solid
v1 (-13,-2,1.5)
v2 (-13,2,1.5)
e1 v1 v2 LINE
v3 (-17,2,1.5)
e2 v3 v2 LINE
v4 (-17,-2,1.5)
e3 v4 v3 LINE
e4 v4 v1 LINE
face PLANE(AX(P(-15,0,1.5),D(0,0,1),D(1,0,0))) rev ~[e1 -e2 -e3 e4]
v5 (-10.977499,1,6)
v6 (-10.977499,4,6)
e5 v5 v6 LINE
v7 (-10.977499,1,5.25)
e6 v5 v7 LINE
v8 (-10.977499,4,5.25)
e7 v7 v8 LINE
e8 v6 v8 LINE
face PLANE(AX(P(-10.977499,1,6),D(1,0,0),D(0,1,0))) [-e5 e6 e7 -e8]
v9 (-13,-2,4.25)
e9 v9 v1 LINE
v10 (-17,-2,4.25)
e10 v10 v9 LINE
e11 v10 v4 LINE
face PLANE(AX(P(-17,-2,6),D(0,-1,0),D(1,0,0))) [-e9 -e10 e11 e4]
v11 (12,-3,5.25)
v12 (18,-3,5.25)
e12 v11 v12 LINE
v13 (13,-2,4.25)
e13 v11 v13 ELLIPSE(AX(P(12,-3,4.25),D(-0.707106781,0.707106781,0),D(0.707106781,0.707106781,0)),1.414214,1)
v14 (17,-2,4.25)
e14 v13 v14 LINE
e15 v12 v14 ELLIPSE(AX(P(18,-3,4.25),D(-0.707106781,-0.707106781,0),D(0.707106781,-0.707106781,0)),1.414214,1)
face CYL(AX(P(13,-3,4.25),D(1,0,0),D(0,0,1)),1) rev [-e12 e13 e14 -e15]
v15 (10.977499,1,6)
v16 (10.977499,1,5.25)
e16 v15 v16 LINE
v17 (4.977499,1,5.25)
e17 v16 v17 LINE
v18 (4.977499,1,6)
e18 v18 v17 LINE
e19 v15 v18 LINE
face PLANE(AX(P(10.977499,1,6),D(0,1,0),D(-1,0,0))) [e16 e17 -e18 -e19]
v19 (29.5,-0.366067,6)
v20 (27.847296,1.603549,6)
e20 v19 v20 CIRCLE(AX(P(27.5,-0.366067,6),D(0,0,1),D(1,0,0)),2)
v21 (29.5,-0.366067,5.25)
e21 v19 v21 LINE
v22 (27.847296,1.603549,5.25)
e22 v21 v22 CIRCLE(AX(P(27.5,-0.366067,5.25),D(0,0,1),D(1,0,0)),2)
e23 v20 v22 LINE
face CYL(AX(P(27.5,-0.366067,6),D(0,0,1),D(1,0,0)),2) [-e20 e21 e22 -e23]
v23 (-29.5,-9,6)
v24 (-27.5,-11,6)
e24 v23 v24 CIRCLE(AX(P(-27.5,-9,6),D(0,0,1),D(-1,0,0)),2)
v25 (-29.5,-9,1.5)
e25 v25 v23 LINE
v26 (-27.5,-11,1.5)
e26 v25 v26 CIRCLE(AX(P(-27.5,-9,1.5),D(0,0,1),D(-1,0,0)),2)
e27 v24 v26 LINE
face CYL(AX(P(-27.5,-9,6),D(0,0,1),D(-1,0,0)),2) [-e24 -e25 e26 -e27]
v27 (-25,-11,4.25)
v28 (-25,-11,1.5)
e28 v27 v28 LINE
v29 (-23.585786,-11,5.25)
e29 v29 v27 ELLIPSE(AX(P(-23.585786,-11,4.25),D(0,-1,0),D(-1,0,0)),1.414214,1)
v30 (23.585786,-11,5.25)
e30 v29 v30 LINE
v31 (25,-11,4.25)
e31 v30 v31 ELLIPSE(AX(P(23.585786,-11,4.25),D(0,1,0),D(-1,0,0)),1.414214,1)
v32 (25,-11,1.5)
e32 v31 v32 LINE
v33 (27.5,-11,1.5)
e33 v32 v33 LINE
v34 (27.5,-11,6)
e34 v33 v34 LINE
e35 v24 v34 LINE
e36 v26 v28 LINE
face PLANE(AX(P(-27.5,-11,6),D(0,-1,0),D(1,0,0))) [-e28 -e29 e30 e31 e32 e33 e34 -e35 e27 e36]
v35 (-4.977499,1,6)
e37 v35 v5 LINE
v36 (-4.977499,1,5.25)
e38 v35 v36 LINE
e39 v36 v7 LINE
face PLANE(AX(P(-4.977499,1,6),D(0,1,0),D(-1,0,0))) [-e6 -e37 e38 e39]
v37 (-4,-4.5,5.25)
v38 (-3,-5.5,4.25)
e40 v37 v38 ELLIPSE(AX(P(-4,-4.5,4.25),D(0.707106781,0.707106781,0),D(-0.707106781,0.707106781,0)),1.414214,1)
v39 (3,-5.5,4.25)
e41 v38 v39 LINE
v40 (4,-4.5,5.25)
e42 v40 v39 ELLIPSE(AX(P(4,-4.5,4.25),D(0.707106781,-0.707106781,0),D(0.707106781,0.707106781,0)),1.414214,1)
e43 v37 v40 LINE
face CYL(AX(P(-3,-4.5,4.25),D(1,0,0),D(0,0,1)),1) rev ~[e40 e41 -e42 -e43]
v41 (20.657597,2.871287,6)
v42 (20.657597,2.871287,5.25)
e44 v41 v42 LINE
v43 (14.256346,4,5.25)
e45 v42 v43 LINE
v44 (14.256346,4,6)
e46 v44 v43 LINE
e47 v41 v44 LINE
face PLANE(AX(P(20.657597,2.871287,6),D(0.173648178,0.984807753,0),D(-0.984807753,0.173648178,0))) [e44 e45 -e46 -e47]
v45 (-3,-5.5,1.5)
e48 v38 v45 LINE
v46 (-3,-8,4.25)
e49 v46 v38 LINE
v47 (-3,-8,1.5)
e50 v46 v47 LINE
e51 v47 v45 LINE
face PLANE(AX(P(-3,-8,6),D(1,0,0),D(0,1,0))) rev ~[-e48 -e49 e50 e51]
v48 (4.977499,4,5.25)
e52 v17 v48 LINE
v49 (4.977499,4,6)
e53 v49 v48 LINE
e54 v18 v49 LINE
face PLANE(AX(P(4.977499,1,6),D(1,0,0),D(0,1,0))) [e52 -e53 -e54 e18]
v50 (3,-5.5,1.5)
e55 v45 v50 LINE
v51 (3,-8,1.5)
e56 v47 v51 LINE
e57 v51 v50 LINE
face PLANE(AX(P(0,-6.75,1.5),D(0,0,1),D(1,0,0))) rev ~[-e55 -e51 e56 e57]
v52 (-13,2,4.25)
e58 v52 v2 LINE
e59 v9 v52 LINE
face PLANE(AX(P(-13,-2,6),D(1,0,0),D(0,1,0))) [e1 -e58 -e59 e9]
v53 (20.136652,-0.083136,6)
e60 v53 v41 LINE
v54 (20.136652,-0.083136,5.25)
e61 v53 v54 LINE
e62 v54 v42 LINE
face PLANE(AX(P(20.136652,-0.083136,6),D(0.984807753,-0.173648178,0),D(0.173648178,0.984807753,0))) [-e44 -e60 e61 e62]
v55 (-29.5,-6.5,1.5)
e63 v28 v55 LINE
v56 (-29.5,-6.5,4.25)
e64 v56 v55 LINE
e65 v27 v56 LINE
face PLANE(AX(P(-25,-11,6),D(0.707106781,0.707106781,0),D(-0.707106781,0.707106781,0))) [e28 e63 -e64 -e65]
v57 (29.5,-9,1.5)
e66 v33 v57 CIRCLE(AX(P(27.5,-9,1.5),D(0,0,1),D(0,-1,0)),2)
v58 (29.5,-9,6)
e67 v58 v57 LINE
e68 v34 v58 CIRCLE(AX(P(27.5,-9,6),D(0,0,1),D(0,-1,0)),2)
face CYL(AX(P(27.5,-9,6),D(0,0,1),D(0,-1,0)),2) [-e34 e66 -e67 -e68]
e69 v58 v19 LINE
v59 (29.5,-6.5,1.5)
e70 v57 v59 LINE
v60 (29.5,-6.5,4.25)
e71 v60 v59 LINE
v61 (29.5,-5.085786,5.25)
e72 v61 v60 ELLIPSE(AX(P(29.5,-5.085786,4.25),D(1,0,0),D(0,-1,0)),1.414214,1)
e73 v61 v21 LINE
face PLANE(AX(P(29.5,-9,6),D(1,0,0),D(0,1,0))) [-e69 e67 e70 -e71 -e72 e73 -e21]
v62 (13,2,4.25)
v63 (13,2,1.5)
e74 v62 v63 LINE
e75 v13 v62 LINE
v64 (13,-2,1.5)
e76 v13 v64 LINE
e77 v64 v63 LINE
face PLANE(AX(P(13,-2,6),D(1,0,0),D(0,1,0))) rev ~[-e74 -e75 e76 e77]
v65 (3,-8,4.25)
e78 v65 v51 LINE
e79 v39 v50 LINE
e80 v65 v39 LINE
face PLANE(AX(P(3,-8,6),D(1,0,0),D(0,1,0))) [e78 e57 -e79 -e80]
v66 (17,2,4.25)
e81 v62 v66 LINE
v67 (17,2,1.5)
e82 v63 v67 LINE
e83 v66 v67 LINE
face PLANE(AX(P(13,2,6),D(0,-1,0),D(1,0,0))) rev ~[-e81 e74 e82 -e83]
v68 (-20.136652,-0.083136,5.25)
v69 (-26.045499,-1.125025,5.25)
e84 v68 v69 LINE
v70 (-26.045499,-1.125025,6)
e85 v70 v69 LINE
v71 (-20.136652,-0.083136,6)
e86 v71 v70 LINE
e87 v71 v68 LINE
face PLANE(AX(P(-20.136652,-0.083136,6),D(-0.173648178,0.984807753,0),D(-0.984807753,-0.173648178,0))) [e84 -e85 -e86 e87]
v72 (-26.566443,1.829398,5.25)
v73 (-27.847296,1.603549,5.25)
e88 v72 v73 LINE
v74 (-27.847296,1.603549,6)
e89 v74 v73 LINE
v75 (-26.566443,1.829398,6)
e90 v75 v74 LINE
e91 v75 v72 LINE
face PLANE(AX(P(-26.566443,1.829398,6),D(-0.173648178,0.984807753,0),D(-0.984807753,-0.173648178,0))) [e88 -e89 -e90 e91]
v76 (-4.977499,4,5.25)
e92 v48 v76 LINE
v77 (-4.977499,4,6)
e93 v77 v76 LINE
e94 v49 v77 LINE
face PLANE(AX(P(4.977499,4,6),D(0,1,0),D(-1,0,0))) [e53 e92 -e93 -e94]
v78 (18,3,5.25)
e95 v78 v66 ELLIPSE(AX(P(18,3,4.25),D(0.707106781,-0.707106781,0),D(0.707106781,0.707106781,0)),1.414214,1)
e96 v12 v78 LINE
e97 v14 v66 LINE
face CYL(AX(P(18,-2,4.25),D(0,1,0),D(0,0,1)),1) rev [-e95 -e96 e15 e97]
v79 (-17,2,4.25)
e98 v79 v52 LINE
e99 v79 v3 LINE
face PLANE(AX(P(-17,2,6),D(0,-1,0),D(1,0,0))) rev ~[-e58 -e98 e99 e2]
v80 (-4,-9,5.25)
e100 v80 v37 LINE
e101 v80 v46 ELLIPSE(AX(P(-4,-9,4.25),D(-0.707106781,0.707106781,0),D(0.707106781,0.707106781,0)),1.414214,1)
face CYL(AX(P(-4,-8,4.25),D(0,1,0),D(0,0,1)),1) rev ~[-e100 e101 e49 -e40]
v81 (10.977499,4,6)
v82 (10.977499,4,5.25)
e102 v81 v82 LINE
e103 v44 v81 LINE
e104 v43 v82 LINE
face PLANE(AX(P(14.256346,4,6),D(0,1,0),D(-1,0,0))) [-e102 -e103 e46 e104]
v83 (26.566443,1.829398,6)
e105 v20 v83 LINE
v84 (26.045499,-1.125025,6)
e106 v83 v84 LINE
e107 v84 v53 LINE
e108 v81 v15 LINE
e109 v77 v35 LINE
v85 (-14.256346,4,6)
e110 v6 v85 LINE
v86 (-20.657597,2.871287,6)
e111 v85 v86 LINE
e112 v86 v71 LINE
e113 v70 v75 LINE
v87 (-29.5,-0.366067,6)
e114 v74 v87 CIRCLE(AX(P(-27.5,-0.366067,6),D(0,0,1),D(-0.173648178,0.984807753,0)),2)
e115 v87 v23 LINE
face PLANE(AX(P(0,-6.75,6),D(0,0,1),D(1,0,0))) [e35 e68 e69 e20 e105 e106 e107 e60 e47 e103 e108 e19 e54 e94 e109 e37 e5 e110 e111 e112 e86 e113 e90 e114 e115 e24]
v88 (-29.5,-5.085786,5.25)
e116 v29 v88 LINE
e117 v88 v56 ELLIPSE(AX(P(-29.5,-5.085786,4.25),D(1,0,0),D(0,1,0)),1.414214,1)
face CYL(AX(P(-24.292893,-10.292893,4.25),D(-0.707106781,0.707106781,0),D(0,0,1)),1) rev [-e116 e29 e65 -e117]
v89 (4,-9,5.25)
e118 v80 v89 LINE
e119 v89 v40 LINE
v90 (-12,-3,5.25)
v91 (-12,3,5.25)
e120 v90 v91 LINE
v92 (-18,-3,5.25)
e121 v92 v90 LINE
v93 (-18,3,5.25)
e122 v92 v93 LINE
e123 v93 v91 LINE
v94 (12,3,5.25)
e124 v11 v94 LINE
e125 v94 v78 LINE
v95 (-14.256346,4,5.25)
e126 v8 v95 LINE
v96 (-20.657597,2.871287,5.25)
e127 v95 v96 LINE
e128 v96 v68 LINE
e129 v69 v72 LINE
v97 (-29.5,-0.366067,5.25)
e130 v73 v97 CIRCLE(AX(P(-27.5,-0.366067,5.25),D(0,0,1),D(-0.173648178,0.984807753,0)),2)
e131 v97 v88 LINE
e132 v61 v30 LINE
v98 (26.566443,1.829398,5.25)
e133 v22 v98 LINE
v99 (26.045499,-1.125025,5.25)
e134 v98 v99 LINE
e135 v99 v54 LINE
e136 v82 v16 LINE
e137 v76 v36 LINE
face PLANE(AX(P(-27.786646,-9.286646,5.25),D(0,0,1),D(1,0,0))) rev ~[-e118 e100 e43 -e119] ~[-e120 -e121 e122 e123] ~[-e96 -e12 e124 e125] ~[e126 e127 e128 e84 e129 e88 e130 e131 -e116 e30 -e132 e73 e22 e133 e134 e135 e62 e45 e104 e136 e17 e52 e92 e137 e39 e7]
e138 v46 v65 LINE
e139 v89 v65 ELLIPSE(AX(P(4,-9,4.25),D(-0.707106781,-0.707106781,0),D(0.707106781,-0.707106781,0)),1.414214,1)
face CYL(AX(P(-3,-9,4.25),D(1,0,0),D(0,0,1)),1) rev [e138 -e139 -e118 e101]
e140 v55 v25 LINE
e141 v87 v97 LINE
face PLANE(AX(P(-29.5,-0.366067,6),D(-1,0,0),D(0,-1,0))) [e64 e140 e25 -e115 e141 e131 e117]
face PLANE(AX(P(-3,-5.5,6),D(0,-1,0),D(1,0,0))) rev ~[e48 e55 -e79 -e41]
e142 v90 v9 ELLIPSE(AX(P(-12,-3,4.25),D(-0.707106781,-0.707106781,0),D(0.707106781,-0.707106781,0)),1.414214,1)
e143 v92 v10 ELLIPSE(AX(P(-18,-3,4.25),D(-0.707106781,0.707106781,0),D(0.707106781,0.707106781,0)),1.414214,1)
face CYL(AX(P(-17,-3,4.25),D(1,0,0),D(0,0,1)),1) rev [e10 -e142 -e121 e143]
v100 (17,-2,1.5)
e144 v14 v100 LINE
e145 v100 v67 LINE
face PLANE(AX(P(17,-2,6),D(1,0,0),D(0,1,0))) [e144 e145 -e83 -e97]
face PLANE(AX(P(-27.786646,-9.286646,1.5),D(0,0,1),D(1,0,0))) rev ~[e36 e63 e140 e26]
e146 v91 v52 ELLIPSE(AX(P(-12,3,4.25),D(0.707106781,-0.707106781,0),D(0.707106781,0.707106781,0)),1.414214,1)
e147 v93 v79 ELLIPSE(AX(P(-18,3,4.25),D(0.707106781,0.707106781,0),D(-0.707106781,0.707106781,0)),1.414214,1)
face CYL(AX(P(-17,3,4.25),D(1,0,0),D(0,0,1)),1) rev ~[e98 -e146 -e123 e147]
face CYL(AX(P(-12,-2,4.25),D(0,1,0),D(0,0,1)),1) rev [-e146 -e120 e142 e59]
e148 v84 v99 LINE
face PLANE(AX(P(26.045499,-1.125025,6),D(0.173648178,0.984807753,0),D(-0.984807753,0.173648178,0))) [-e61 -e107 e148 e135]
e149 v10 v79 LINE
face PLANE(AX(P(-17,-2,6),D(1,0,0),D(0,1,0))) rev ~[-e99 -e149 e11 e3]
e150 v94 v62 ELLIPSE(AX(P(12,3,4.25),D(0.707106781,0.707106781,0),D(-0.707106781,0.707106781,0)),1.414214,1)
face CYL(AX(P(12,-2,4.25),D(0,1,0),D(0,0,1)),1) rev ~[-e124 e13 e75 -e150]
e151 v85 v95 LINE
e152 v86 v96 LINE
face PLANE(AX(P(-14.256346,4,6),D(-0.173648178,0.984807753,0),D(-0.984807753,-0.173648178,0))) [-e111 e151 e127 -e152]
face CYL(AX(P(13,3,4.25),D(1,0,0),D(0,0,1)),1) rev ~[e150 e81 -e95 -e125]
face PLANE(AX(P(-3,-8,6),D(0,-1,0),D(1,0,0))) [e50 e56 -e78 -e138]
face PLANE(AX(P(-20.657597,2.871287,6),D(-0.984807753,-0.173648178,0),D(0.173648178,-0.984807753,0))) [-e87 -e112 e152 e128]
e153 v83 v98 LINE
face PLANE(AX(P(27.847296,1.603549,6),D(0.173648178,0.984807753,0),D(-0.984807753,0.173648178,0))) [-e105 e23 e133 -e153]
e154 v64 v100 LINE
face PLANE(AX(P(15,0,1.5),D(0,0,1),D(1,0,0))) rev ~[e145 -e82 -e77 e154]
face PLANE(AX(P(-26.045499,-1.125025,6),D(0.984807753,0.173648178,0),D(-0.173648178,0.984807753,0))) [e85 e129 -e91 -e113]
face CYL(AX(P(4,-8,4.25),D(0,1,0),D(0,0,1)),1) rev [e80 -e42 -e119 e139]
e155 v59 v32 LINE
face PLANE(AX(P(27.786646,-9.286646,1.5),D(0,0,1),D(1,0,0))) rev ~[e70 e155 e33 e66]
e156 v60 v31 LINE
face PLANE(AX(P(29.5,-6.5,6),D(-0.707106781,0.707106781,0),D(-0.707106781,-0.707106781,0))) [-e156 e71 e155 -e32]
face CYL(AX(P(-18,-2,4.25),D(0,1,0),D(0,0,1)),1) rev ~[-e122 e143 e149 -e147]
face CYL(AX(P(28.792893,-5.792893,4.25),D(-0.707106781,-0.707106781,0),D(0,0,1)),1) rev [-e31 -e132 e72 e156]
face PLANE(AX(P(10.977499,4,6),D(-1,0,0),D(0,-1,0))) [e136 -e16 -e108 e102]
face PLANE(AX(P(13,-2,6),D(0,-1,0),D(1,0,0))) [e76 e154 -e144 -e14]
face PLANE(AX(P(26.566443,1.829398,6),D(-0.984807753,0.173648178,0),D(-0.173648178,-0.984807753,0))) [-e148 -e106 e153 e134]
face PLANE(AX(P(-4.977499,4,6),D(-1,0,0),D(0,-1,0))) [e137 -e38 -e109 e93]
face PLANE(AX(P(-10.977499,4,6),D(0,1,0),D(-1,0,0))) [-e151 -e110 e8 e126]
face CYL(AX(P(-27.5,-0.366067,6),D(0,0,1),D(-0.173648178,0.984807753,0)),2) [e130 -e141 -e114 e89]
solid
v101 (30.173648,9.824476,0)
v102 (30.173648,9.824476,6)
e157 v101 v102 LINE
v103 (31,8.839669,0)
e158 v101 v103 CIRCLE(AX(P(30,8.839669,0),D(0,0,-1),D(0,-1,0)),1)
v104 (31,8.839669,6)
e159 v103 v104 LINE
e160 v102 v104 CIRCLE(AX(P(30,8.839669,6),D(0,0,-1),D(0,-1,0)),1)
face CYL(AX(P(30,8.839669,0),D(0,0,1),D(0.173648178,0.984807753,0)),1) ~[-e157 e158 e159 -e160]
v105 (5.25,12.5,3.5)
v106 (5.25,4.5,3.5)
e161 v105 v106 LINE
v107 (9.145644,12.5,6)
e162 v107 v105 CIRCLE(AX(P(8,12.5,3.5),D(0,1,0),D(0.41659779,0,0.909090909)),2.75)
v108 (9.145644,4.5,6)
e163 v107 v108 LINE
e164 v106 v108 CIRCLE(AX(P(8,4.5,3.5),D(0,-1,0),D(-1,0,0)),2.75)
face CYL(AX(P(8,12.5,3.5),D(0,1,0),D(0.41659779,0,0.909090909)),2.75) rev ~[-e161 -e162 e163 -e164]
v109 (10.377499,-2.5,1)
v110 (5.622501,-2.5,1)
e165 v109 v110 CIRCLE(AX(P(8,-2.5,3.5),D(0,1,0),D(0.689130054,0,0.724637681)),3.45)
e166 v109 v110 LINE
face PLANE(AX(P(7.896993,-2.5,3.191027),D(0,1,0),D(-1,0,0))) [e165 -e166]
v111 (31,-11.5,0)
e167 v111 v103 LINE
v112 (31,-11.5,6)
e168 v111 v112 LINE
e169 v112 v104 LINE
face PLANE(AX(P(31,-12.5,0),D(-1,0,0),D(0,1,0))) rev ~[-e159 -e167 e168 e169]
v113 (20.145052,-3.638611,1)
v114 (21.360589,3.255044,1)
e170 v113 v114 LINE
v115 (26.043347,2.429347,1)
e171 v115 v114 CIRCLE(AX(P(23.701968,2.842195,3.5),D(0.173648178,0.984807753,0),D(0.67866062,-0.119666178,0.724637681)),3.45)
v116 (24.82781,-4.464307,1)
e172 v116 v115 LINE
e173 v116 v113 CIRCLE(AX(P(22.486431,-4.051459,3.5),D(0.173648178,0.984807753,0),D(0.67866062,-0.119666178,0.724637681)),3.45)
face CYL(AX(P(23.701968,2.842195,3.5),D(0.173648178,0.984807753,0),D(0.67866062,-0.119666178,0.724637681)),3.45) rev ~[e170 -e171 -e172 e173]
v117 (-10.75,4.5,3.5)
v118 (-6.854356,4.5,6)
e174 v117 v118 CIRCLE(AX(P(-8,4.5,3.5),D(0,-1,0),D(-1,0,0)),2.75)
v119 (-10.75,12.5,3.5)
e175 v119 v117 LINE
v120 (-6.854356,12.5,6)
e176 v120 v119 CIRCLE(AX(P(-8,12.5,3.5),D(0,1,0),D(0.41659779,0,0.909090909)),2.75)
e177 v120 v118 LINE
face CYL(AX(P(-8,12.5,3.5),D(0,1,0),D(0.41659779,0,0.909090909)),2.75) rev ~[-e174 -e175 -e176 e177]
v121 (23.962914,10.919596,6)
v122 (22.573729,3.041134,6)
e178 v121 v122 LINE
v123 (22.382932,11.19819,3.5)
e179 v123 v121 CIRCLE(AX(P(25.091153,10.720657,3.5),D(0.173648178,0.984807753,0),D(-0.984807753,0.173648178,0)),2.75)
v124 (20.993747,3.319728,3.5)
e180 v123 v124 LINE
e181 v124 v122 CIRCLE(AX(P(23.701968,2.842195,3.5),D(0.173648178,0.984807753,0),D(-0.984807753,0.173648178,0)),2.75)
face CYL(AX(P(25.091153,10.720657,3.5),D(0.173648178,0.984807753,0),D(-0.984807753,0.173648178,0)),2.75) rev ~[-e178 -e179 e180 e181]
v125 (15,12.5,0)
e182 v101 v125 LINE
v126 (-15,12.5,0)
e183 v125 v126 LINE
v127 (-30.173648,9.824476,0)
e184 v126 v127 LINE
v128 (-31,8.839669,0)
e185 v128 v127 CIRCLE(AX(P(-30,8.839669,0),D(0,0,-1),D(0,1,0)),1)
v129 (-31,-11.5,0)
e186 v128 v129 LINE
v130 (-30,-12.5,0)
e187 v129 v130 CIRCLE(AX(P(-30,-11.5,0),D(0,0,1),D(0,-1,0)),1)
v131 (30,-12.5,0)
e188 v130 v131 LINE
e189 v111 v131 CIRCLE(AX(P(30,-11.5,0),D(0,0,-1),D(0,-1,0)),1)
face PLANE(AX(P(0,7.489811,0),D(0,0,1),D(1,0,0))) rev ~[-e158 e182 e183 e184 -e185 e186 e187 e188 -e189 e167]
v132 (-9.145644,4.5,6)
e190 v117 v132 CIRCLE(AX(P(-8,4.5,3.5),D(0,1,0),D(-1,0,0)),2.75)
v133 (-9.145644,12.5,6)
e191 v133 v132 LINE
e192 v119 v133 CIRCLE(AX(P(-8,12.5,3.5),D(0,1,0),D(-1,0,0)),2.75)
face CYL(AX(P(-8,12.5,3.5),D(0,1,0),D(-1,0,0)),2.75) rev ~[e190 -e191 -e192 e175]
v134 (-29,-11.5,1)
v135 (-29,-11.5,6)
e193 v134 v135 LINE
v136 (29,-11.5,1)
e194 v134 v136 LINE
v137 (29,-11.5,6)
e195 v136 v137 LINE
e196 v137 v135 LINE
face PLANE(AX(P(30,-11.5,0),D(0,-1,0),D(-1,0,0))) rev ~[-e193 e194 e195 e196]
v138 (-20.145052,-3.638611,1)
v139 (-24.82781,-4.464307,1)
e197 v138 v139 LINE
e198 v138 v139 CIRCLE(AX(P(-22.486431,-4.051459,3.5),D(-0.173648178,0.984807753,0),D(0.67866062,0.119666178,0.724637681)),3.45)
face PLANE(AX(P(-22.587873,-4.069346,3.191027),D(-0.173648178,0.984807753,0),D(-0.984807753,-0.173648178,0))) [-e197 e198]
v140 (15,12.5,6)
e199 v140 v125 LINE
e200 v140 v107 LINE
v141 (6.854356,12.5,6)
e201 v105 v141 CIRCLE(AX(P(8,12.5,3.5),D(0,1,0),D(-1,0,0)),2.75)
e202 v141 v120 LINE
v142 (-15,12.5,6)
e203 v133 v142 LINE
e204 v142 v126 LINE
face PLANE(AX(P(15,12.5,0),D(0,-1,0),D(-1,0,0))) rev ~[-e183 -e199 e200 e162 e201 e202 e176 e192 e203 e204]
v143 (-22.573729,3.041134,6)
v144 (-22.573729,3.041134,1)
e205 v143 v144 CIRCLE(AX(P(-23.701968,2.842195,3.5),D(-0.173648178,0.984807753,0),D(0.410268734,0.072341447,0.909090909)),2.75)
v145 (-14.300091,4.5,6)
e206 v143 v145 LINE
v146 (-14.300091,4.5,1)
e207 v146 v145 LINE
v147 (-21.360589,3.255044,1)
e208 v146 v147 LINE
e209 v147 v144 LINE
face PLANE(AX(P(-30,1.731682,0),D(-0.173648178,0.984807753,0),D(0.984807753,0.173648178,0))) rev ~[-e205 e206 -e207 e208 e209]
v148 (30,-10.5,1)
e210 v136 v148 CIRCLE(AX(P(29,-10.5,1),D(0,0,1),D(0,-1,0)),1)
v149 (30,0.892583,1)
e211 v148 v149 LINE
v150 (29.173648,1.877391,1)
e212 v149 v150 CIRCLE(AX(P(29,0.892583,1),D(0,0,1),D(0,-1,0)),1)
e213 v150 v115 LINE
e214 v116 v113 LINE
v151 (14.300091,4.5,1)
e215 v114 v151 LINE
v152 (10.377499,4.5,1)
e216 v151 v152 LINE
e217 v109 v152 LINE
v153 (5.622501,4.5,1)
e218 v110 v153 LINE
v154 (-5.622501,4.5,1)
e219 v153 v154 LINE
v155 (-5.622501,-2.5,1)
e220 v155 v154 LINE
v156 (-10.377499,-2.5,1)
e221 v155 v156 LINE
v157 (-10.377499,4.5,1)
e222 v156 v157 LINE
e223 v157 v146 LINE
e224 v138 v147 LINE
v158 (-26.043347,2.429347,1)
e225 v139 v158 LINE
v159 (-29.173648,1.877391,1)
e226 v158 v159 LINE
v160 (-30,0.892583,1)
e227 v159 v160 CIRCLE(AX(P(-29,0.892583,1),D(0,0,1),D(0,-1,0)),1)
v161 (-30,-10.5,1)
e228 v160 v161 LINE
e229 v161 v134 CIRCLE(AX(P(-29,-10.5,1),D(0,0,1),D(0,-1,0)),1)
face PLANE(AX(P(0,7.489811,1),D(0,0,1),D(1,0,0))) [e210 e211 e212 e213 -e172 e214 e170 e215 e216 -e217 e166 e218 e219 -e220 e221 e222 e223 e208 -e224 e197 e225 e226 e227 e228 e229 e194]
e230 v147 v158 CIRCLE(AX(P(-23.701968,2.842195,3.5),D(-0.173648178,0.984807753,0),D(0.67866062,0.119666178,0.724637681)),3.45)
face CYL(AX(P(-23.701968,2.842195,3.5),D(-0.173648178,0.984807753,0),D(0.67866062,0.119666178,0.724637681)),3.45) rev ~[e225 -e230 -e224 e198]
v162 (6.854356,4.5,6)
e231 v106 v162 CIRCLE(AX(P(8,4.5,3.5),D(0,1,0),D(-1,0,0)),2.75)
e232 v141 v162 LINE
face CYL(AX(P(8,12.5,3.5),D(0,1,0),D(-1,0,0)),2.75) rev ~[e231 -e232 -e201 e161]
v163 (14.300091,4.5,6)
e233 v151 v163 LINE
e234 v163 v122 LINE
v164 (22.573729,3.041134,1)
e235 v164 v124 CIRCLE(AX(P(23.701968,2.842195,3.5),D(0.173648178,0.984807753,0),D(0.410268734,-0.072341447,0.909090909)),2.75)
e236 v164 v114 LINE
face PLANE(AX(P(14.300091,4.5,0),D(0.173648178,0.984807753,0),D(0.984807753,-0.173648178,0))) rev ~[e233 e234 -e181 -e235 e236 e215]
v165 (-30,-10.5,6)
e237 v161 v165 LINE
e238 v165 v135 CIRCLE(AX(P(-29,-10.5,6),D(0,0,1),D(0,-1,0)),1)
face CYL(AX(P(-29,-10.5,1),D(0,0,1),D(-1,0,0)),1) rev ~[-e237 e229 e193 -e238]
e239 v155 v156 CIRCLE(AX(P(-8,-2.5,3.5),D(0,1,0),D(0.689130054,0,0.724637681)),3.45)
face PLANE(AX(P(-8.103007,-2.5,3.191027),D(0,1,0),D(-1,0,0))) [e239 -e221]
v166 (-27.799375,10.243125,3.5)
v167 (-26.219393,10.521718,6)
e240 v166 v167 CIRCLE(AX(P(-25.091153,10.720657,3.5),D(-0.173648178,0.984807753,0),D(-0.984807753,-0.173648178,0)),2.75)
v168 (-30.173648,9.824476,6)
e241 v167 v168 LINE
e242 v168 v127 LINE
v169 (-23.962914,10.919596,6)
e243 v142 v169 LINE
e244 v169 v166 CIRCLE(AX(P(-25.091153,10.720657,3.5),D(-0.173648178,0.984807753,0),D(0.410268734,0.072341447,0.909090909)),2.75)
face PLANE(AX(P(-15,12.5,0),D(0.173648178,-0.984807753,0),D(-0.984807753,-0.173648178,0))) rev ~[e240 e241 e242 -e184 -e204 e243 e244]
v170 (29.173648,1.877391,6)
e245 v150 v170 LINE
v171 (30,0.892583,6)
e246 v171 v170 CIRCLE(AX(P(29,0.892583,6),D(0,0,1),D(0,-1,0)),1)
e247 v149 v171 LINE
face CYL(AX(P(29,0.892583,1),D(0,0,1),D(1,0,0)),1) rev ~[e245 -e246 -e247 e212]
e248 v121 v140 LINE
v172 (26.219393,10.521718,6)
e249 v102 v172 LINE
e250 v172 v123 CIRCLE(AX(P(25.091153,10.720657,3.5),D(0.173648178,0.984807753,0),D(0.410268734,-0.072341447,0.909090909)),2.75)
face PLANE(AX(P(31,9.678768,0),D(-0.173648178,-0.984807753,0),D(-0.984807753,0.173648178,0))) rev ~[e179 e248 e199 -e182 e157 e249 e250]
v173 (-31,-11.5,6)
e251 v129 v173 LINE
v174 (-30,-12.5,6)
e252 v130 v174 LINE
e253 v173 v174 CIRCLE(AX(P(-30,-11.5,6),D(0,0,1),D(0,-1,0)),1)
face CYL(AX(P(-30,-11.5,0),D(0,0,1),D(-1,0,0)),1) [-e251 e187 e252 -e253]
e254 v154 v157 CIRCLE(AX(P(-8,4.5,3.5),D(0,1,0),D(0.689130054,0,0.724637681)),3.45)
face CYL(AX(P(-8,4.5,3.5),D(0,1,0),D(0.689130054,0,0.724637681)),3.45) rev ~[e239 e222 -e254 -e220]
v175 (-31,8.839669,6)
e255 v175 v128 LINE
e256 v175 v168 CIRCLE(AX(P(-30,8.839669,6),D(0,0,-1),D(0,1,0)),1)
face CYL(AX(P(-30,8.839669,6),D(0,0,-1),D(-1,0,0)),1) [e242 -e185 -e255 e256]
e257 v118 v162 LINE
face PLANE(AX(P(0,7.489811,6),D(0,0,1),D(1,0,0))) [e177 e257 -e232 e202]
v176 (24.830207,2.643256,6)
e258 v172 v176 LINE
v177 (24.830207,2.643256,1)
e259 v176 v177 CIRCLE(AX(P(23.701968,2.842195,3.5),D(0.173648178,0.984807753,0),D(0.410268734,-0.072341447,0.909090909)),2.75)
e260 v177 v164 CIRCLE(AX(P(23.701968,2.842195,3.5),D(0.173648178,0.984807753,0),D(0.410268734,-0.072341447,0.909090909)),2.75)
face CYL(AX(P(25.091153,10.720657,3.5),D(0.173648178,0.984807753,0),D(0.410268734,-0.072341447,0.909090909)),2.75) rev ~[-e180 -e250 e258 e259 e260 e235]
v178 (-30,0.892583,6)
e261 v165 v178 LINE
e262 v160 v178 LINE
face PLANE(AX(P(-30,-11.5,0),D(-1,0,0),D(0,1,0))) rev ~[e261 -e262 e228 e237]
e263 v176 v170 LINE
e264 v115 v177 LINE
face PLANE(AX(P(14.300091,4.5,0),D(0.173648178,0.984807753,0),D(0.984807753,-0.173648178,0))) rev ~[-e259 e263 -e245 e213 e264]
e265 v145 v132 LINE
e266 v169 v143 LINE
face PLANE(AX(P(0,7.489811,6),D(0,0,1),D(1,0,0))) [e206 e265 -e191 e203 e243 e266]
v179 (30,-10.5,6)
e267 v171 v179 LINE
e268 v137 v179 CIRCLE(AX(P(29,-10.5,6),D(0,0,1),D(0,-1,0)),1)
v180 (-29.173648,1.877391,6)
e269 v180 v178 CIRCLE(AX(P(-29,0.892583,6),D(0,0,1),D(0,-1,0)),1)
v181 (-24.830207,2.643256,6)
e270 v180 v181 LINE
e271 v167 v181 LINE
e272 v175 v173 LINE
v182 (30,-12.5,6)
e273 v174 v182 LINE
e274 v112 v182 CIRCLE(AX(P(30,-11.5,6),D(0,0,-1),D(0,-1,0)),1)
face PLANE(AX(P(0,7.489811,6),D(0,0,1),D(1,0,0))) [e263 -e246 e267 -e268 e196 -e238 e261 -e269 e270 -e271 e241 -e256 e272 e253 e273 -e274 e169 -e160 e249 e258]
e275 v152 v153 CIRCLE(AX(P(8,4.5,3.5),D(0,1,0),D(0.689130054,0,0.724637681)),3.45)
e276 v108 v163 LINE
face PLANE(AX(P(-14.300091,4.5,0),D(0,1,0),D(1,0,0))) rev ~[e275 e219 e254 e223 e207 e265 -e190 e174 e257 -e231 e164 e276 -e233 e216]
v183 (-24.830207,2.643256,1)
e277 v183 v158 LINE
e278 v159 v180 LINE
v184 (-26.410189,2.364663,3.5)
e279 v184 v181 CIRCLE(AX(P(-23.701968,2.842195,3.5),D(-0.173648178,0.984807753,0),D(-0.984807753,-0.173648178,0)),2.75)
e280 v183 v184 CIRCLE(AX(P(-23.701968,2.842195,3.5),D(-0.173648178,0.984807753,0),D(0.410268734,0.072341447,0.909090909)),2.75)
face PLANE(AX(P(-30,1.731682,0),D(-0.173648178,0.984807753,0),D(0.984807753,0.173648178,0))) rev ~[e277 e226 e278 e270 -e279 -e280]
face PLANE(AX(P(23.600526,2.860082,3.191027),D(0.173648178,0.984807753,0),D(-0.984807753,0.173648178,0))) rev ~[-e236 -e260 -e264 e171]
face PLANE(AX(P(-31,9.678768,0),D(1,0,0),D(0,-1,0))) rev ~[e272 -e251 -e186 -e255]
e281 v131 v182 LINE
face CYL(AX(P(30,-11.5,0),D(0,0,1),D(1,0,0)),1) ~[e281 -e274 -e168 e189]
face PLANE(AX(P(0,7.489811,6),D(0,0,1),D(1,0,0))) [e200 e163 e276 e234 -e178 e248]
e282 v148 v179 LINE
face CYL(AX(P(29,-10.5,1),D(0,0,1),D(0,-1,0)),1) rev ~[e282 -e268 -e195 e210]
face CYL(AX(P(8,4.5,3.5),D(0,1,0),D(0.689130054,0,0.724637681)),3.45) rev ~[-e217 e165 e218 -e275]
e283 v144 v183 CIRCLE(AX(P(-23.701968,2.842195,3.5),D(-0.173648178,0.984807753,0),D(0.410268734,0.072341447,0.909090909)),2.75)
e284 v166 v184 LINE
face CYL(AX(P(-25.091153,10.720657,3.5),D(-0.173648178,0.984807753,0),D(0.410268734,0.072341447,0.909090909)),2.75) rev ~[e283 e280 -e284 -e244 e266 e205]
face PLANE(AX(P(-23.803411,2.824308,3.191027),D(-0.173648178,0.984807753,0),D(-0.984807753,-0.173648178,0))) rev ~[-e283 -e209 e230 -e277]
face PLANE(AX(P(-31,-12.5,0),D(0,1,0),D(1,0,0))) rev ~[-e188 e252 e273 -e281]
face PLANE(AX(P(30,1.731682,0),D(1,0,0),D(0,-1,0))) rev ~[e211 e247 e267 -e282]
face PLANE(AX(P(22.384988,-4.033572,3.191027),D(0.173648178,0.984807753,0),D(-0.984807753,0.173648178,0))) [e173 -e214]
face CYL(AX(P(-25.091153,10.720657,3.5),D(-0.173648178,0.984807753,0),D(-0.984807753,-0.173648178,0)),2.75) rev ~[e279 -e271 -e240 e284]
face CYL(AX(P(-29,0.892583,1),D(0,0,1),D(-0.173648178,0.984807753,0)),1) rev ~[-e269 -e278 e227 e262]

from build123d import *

# Parameters (mm, degrees)
F1_DEPTH  = 1
F2_DEPTH  = 6
F4_DEPTH  = 8
F6_DEPTH  = 8
F8_DEPTH  = 8
F9_START  = -8
F9_DEPTH  = 7
F10_START = -8
F10_DEPTH = 7
F11_START = -8
F11_DEPTH = 7
F12_START = -8
F12_DEPTH = 7
F14_START = -8
F14_DEPTH = 7
F15_START = -8
F15_DEPTH = 7
F16_R     = 1
F18_W     = 6
F18_H     = 2.5
F18_W_2   = 4
F18_H_2   = 4
F19_DEPTH = 0.75
F20_DEPTH = 4.5
F21_R     = 1


with BuildPart() as f1:
    # F0 (on Top) → F1 (new body)
    with BuildSketch(Plane.XY):
        Polygon((-31, 9.6787683087), (-31, 1.5553554136), (-30, 1.7316823943), (-14.3000906918, 4.5), (0, 4.5), (14.3000906918, 4.5), (30, 1.7316823943), (31, 1.5553554136), (31, 9.6787683087), (15, 12.5), (0, 12.5), (-15, 12.5), align=None)
        Polygon((-31, 1.5553554136), (-31, -12.5), (31, -12.5), (31, 1.5553554136), (30, 1.7316823943), (30, -11.5), (-30, -11.5), (-30, 1.7316823943), align=None)
        Polygon((-14.3000906918, 4.5), (-30, 1.7316823943), (-30, -11.5), (30, -11.5), (30, 1.7316823943), (14.3000906918, 4.5), (0, 4.5), align=None)
    extrude(amount=F1_DEPTH)

    # F0 (on Top) → F2 (join)
    with BuildSketch(Plane.XY):
        Polygon((-31, 9.6787683087), (-31, 1.5553554136), (-30, 1.7316823943), (-14.3000906918, 4.5), (0, 4.5), (14.3000906918, 4.5), (30, 1.7316823943), (31, 1.5553554136), (31, 9.6787683087), (15, 12.5), (0, 12.5), (-15, 12.5), align=None)
        Polygon((-31, 1.5553554136), (-31, -12.5), (31, -12.5), (31, 1.5553554136), (30, 1.7316823943), (30, -11.5), (-30, -11.5), (-30, 1.7316823943), align=None)
    extrude(amount=F2_DEPTH)

    # F3 (on face) → F4 (cut)
    with BuildSketch(Plane(origin=(0, 12.5, 0), x_dir=(-1, 0, 0), z_dir=(0, 1, 0))):
        with BuildLine():
            ThreePointArc((-9.1456439237, 6), (-9.4852574204, 1.185586382), (-5.25, 3.5))
            ThreePointArc((-5.25, 3.5), (-5.685586382, 4.9852574204), (-6.8543560763, 6))
            Line((-6.8543560763, 6), (-9.1456439237, 6))
        make_face()
        with BuildLine():
            Line((9.1456439237, 6), (6.8543560763, 6))
            ThreePointArc((6.8543560763, 6), (6.5147425796, 1.185586382), (10.75, 3.5))
            ThreePointArc((10.75, 3.5), (10.314413618, 4.9852574204), (9.1456439237, 6))
        make_face()
        with BuildLine():
            ThreePointArc((9.1456439237, 6), (8, 6.25), (6.8543560763, 6))
            Line((6.8543560763, 6), (9.1456439237, 6))
        make_face()
    extrude(amount=-F4_DEPTH, mode=Mode.SUBTRACT)

    # F5 (on face) → F6 (cut)
    with BuildSketch(Plane(origin=(2.5899312399, 14.6882299549, 0), x_dir=(-0.984807753, 0.1736481777, 0), z_dir=(0.1736481777, 0.984807753, 0))):
        with BuildLine():
            Line((-23.9939837883, 6), (-21.7026959408, 6))
            ThreePointArc((-21.7026959408, 6), (-22.8483398645, 6.25), (-23.9939837883, 6))
        make_face()
        with BuildLine():
            ThreePointArc((-23.9939837883, 6), (-24.3335972849, 1.185586382), (-20.0983398645, 3.5))
            ThreePointArc((-20.0983398645, 3.5), (-20.5339262465, 4.9852574204), (-21.7026959408, 6))
            Line((-21.7026959408, 6), (-23.9939837883, 6))
        make_face()
    extrude(amount=-F6_DEPTH, mode=Mode.SUBTRACT)

    # F7 (on face) → F8 (cut)
    with BuildSketch(Plane(origin=(-2.5899312399, 14.6882299549, 0), x_dir=(-0.984807753, -0.1736481777, 0), z_dir=(-0.1736481777, 0.984807753, 0))):
        with BuildLine():
            ThreePointArc((21.7026959408, 6), (21.3630824441, 1.185586382), (25.5983398645, 3.5))
            ThreePointArc((25.5983398645, 3.5), (25.1627534825, 4.9852574204), (23.9939837883, 6))
            Line((23.9939837883, 6), (21.7026959408, 6))
        make_face()
    extrude(amount=-F8_DEPTH, mode=Mode.SUBTRACT)

    # F5 (on face) → F12 (cut)
    with BuildSketch(Plane(origin=(2.5899312399, 14.6882299549, 0), x_dir=(-0.984807753, 0.1736481777, 0), z_dir=(0.1736481777, 0.984807753, 0)).offset(F12_START)):
        with BuildLine():
            ThreePointArc((-21.7026959408, 6), (-20.5339262465, 4.9852574204), (-20.0983398645, 3.5))
            ThreePointArc((-20.0983398645, 3.5), (-24.3335972849, 1.185586382), (-23.9939837883, 6))
            Line((-23.9939837883, 6), (-25.2258385501, 6))
            ThreePointArc((-25.2258385501, 6), (-24.2085107241, 0.3294424414), (-19.3983398645, 3.5))
            ThreePointArc((-19.3983398645, 3.5), (-19.6777823059, 4.8601708596), (-20.4708411789, 6))
            Line((-20.4708411789, 6), (-21.7026959408, 6))
        make_face()
        with BuildLine():
            ThreePointArc((-23.9939837883, 6), (-24.3335972849, 1.185586382), (-20.0983398645, 3.5))
            ThreePointArc((-20.0983398645, 3.5), (-20.5339262465, 4.9852574204), (-21.7026959408, 6))
            Line((-21.7026959408, 6), (-23.9939837883, 6))
        make_face()
    extrude(amount=-F12_DEPTH, mode=Mode.SUBTRACT)

    # F3 (on face) → F14 (cut)
    with BuildSketch(Plane(origin=(0, 12.5, 0), x_dir=(-1, 0, 0), z_dir=(0, 1, 0)).offset(F14_START)):
        with BuildLine():
            ThreePointArc((-6.8543560763, 6), (-5.685586382, 4.9852574204), (-5.25, 3.5))
            ThreePointArc((-5.25, 3.5), (-9.4852574204, 1.185586382), (-9.1456439237, 6))
            Line((-9.1456439237, 6), (-10.3774986856, 6))
            ThreePointArc((-10.3774986856, 6), (-9.3601708596, 0.3294424414), (-4.55, 3.5))
            ThreePointArc((-4.55, 3.5), (-4.8294424414, 4.8601708596), (-5.6225013144, 6))
            Line((-5.6225013144, 6), (-6.8543560763, 6))
        make_face()
        with BuildLine():
            ThreePointArc((-9.1456439237, 6), (-9.4852574204, 1.185586382), (-5.25, 3.5))
            ThreePointArc((-5.25, 3.5), (-5.685586382, 4.9852574204), (-6.8543560763, 6))
            Line((-6.8543560763, 6), (-9.1456439237, 6))
        make_face()
        with BuildLine():
            Line((6.8543560763, 6), (5.6225013144, 6))
            ThreePointArc((5.6225013144, 6), (6.6398291404, 0.3294424414), (11.45, 3.5))
            ThreePointArc((11.45, 3.5), (11.1705575586, 4.8601708596), (10.3774986856, 6))
            Line((10.3774986856, 6), (9.1456439237, 6))
            ThreePointArc((9.1456439237, 6), (10.314413618, 4.9852574204), (10.75, 3.5))
            ThreePointArc((10.75, 3.5), (6.5147425796, 1.185586382), (6.8543560763, 6))
        make_face()
        with BuildLine():
            Line((9.1456439237, 6), (6.8543560763, 6))
            ThreePointArc((6.8543560763, 6), (6.5147425796, 1.185586382), (10.75, 3.5))
            ThreePointArc((10.75, 3.5), (10.314413618, 4.9852574204), (9.1456439237, 6))
        make_face()
    extrude(amount=-F14_DEPTH, mode=Mode.SUBTRACT)

    # F7 (on face) → F15 (cut)
    with BuildSketch(Plane(origin=(-2.5899312399, 14.6882299549, 0), x_dir=(-0.984807753, -0.1736481777, 0), z_dir=(-0.1736481777, 0.984807753, 0)).offset(F15_START)):
        with BuildLine():
            ThreePointArc((23.9939837883, 6), (25.1627534825, 4.9852574204), (25.5983398645, 3.5))
            ThreePointArc((25.5983398645, 3.5), (21.3630824441, 1.185586382), (21.7026959408, 6))
            Line((21.7026959408, 6), (20.4708411789, 6))
            ThreePointArc((20.4708411789, 6), (21.4881690049, 0.3294424414), (26.2983398645, 3.5))
            ThreePointArc((26.2983398645, 3.5), (26.0188974232, 4.8601708596), (25.2258385501, 6))
            Line((25.2258385501, 6), (23.9939837883, 6))
        make_face()
        with BuildLine():
            ThreePointArc((21.7026959408, 6), (21.3630824441, 1.185586382), (25.5983398645, 3.5))
            ThreePointArc((25.5983398645, 3.5), (25.1627534825, 4.9852574204), (23.9939837883, 6))
            Line((23.9939837883, 6), (21.7026959408, 6))
        make_face()
    extrude(amount=-F15_DEPTH, mode=Mode.SUBTRACT)

    # F16
    f16_edges = [f1.edges().sort_by_distance(p)[0] for p in [
        (31, 9.678768, 3),
        (-31, 9.678768, 3),
        (-31, -12.5, 3),
        (-30, -11.5, 3.5),
        (30, -11.5, 3.5),
        (31, -12.5, 3),
        (30, 1.731682, 3.5),
        (-30, 1.731682, 3.5),
    ]]
    fillet(f16_edges, radius=F16_R)


with BuildPart() as f9:
    # F5 (on face) → F9 (new body)
    with BuildSketch(Plane(origin=(2.5899312399, 14.6882299549, 0), x_dir=(-0.984807753, 0.1736481777, 0), z_dir=(0.1736481777, 0.984807753, 0)).offset(F9_START)):
        with BuildLine():
            Line((-23.9939837883, 6), (-21.7026959408, 6))
            ThreePointArc((-21.7026959408, 6), (-22.8483398645, 6.25), (-23.9939837883, 6))
        make_face()
        with BuildLine():
            ThreePointArc((-23.9939837883, 6), (-22.8483398645, 6.25), (-21.7026959408, 6))
            Line((-21.7026959408, 6), (-20.4708411789, 6))
            ThreePointArc((-20.4708411789, 6), (-22.8483398645, 6.95), (-25.2258385501, 6))
            Line((-25.2258385501, 6), (-23.9939837883, 6))
        make_face()
    extrude(amount=-F9_DEPTH)


with BuildPart() as f10:
    # F3 (on face) → F10 (new body)
    with BuildSketch(Plane(origin=(0, 12.5, 0), x_dir=(-1, 0, 0), z_dir=(0, 1, 0)).offset(F10_START)):
        with BuildLine():
            ThreePointArc((-6.8543560763, 6), (-5.685586382, 4.9852574204), (-5.25, 3.5))
            ThreePointArc((-5.25, 3.5), (-9.4852574204, 1.185586382), (-9.1456439237, 6))
            Line((-9.1456439237, 6), (-10.3774986856, 6))
            ThreePointArc((-10.3774986856, 6), (-9.3601708596, 0.3294424414), (-4.55, 3.5))
            ThreePointArc((-4.55, 3.5), (-4.8294424414, 4.8601708596), (-5.6225013144, 6))
            Line((-5.6225013144, 6), (-6.8543560763, 6))
        make_face()
        with BuildLine():
            ThreePointArc((-9.1456439237, 6), (-9.4852574204, 1.185586382), (-5.25, 3.5))
            ThreePointArc((-5.25, 3.5), (-5.685586382, 4.9852574204), (-6.8543560763, 6))
            Line((-6.8543560763, 6), (-9.1456439237, 6))
        make_face()
    extrude(amount=-F10_DEPTH)


with BuildPart() as f10b:
    # F3 (on face) → F10, piece 2 (new body)
    with BuildSketch(Plane(origin=(0, 12.5, 0), x_dir=(-1, 0, 0), z_dir=(0, 1, 0)).offset(F10_START)):
        with BuildLine():
            ThreePointArc((10.3774986856, 6), (8, 6.95), (5.6225013144, 6))
            Line((5.6225013144, 6), (6.8543560763, 6))
            ThreePointArc((6.8543560763, 6), (8, 6.25), (9.1456439237, 6))
            Line((9.1456439237, 6), (10.3774986856, 6))
        make_face()
        with BuildLine():
            ThreePointArc((9.1456439237, 6), (8, 6.25), (6.8543560763, 6))
            Line((6.8543560763, 6), (9.1456439237, 6))
        make_face()
    extrude(amount=-F10_DEPTH)


with BuildPart() as f11:
    # F7 (on face) → F11 (new body)
    with BuildSketch(Plane(origin=(-2.5899312399, 14.6882299549, 0), x_dir=(-0.984807753, -0.1736481777, 0), z_dir=(-0.1736481777, 0.984807753, 0)).offset(F11_START)):
        with BuildLine():
            ThreePointArc((23.9939837883, 6), (25.1627534825, 4.9852574204), (25.5983398645, 3.5))
            ThreePointArc((25.5983398645, 3.5), (21.3630824441, 1.185586382), (21.7026959408, 6))
            Line((21.7026959408, 6), (20.4708411789, 6))
            ThreePointArc((20.4708411789, 6), (21.4881690049, 0.3294424414), (26.2983398645, 3.5))
            ThreePointArc((26.2983398645, 3.5), (26.0188974232, 4.8601708596), (25.2258385501, 6))
            Line((25.2258385501, 6), (23.9939837883, 6))
        make_face()
        with BuildLine():
            ThreePointArc((21.7026959408, 6), (21.3630824441, 1.185586382), (25.5983398645, 3.5))
            ThreePointArc((25.5983398645, 3.5), (25.1627534825, 4.9852574204), (23.9939837883, 6))
            Line((23.9939837883, 6), (21.7026959408, 6))
        make_face()
    extrude(amount=-F11_DEPTH)


with BuildPart() as f19:
    # F18 (on offset) → F19 (new body)
    with BuildSketch(Plane.XY.offset(6)):
        with BuildLine():
            ThreePointArc((-29.5, -9), (-28.9142135624, -10.4142135624), (-27.5, -11))
            Line((-27.5, -11), (-25, -11))
            Line((-25, -11), (-29.5, -6.5))
            Line((-29.5, -6.5), (-29.5, -9))
        make_face()
        with BuildLine():
            Line((-29.5, -6.5), (-25, -11))
            Line((-25, -11), (25, -11))
            Line((25, -11), (29.5, -6.5))
            Line((29.5, -6.5), (29.5, -0.3660666837))
            ThreePointArc((29.5, -0.3660666837), (29.0320888862, 0.9195085357), (27.8472963553, 1.6035488224))
            Line((27.8472963553, 1.6035488224), (26.5664432727, 1.8293977792))
            Line((26.5664432727, 1.8293977792), (26.0454987397, -1.1250254799))
            Line((26.0454987397, -1.1250254799), (20.1366522216, -0.0831364139))
            Line((20.1366522216, -0.0831364139), (20.6575967546, 2.8712868452))
            Line((20.6575967546, 2.8712868452), (14.25634636, 4))
            Line((14.25634636, 4), (10.9774986856, 4))
            Line((10.9774986856, 4), (10.9774986856, 1))
            Line((10.9774986856, 1), (4.9774986856, 1))
            Line((4.9774986856, 1), (4.9774986856, 4))
            Line((4.9774986856, 4), (-4.9774986856, 4))
            Line((-4.9774986856, 4), (-4.9774986856, 1))
            Line((-4.9774986856, 1), (-10.9774986856, 1))
            Line((-10.9774986856, 1), (-10.9774986856, 4))
            Line((-10.9774986856, 4), (-14.25634636, 4))
            Line((-14.25634636, 4), (-20.6575967546, 2.8712868452))
            Line((-20.6575967546, 2.8712868452), (-20.1366522216, -0.0831364139))
            Line((-20.1366522216, -0.0831364139), (-26.0454987397, -1.1250254799))
            Line((-26.0454987397, -1.1250254799), (-26.5664432727, 1.8293977792))
            Line((-26.5664432727, 1.8293977792), (-27.8472963553, 1.6035488224))
            ThreePointArc((-27.8472963553, 1.6035488224), (-29.0320888862, 0.9195085357), (-29.5, -0.3660666837))
            Line((-29.5, -0.3660666837), (-29.5, -6.5))
        make_face()
        with Locations((0, -6.75)):
            Rectangle(F18_W, F18_H, mode=Mode.SUBTRACT)
        with Locations((-15, 0)):
            Rectangle(F18_W_2, F18_H_2, mode=Mode.SUBTRACT)
        with Locations((15, 0)):
            Rectangle(F18_W_2, F18_H_2, mode=Mode.SUBTRACT)
        with BuildLine():
            Line((29.5, -6.5), (25, -11))
            Line((25, -11), (27.5, -11))
            ThreePointArc((27.5, -11), (28.9142135624, -10.4142135624), (29.5, -9))
            Line((29.5, -9), (29.5, -6.5))
        make_face()
        with Locations((-15, 0)):
            Rectangle(F18_W_2, F18_H_2)
        with Locations((0, -6.75)):
            Rectangle(F18_W, F18_H)
        with Locations((15, 0)):
            Rectangle(F18_W_2, F18_H_2)
    extrude(amount=-F19_DEPTH)

    # F18 (on offset) → F20 (join)
    with BuildSketch(Plane.XY.offset(6)):
        with Locations((0, -6.75)):
            Rectangle(F18_W, F18_H)
        with Locations((-15, 0)):
            Rectangle(F18_W_2, F18_H_2)
        with BuildLine():
            ThreePointArc((-29.5, -9), (-28.9142135624, -10.4142135624), (-27.5, -11))
            Line((-27.5, -11), (-25, -11))
            Line((-25, -11), (-29.5, -6.5))
            Line((-29.5, -6.5), (-29.5, -9))
        make_face()
        with Locations((15, 0)):
            Rectangle(F18_W_2, F18_H_2)
        with BuildLine():
            Line((29.5, -6.5), (25, -11))
            Line((25, -11), (27.5, -11))
            ThreePointArc((27.5, -11), (28.9142135624, -10.4142135624), (29.5, -9))
            Line((29.5, -9), (29.5, -6.5))
        make_face()
    extrude(amount=-F20_DEPTH)

    # F21
    f21_edges = [f19.edges().sort_by_distance(p)[0] for p in [
        (0, -8, 5.25),
        (3, -6.75, 5.25),
        (-3, -6.75, 5.25),
        (0, -5.5, 5.25),
        (-15, -2, 5.25),
        (-17, 0, 5.25),
        (-15, 2, 5.25),
        (-13, 0, 5.25),
        (-27.25, -8.75, 5.25),
        (15, -2, 5.25),
        (13, 0, 5.25),
        (27.25, -8.75, 5.25),
        (17, 0, 5.25),
        (15, 2, 5.25),
    ]]
    fillet(f21_edges, radius=F21_R)


solid = Compound([f1.part, f19.part])
